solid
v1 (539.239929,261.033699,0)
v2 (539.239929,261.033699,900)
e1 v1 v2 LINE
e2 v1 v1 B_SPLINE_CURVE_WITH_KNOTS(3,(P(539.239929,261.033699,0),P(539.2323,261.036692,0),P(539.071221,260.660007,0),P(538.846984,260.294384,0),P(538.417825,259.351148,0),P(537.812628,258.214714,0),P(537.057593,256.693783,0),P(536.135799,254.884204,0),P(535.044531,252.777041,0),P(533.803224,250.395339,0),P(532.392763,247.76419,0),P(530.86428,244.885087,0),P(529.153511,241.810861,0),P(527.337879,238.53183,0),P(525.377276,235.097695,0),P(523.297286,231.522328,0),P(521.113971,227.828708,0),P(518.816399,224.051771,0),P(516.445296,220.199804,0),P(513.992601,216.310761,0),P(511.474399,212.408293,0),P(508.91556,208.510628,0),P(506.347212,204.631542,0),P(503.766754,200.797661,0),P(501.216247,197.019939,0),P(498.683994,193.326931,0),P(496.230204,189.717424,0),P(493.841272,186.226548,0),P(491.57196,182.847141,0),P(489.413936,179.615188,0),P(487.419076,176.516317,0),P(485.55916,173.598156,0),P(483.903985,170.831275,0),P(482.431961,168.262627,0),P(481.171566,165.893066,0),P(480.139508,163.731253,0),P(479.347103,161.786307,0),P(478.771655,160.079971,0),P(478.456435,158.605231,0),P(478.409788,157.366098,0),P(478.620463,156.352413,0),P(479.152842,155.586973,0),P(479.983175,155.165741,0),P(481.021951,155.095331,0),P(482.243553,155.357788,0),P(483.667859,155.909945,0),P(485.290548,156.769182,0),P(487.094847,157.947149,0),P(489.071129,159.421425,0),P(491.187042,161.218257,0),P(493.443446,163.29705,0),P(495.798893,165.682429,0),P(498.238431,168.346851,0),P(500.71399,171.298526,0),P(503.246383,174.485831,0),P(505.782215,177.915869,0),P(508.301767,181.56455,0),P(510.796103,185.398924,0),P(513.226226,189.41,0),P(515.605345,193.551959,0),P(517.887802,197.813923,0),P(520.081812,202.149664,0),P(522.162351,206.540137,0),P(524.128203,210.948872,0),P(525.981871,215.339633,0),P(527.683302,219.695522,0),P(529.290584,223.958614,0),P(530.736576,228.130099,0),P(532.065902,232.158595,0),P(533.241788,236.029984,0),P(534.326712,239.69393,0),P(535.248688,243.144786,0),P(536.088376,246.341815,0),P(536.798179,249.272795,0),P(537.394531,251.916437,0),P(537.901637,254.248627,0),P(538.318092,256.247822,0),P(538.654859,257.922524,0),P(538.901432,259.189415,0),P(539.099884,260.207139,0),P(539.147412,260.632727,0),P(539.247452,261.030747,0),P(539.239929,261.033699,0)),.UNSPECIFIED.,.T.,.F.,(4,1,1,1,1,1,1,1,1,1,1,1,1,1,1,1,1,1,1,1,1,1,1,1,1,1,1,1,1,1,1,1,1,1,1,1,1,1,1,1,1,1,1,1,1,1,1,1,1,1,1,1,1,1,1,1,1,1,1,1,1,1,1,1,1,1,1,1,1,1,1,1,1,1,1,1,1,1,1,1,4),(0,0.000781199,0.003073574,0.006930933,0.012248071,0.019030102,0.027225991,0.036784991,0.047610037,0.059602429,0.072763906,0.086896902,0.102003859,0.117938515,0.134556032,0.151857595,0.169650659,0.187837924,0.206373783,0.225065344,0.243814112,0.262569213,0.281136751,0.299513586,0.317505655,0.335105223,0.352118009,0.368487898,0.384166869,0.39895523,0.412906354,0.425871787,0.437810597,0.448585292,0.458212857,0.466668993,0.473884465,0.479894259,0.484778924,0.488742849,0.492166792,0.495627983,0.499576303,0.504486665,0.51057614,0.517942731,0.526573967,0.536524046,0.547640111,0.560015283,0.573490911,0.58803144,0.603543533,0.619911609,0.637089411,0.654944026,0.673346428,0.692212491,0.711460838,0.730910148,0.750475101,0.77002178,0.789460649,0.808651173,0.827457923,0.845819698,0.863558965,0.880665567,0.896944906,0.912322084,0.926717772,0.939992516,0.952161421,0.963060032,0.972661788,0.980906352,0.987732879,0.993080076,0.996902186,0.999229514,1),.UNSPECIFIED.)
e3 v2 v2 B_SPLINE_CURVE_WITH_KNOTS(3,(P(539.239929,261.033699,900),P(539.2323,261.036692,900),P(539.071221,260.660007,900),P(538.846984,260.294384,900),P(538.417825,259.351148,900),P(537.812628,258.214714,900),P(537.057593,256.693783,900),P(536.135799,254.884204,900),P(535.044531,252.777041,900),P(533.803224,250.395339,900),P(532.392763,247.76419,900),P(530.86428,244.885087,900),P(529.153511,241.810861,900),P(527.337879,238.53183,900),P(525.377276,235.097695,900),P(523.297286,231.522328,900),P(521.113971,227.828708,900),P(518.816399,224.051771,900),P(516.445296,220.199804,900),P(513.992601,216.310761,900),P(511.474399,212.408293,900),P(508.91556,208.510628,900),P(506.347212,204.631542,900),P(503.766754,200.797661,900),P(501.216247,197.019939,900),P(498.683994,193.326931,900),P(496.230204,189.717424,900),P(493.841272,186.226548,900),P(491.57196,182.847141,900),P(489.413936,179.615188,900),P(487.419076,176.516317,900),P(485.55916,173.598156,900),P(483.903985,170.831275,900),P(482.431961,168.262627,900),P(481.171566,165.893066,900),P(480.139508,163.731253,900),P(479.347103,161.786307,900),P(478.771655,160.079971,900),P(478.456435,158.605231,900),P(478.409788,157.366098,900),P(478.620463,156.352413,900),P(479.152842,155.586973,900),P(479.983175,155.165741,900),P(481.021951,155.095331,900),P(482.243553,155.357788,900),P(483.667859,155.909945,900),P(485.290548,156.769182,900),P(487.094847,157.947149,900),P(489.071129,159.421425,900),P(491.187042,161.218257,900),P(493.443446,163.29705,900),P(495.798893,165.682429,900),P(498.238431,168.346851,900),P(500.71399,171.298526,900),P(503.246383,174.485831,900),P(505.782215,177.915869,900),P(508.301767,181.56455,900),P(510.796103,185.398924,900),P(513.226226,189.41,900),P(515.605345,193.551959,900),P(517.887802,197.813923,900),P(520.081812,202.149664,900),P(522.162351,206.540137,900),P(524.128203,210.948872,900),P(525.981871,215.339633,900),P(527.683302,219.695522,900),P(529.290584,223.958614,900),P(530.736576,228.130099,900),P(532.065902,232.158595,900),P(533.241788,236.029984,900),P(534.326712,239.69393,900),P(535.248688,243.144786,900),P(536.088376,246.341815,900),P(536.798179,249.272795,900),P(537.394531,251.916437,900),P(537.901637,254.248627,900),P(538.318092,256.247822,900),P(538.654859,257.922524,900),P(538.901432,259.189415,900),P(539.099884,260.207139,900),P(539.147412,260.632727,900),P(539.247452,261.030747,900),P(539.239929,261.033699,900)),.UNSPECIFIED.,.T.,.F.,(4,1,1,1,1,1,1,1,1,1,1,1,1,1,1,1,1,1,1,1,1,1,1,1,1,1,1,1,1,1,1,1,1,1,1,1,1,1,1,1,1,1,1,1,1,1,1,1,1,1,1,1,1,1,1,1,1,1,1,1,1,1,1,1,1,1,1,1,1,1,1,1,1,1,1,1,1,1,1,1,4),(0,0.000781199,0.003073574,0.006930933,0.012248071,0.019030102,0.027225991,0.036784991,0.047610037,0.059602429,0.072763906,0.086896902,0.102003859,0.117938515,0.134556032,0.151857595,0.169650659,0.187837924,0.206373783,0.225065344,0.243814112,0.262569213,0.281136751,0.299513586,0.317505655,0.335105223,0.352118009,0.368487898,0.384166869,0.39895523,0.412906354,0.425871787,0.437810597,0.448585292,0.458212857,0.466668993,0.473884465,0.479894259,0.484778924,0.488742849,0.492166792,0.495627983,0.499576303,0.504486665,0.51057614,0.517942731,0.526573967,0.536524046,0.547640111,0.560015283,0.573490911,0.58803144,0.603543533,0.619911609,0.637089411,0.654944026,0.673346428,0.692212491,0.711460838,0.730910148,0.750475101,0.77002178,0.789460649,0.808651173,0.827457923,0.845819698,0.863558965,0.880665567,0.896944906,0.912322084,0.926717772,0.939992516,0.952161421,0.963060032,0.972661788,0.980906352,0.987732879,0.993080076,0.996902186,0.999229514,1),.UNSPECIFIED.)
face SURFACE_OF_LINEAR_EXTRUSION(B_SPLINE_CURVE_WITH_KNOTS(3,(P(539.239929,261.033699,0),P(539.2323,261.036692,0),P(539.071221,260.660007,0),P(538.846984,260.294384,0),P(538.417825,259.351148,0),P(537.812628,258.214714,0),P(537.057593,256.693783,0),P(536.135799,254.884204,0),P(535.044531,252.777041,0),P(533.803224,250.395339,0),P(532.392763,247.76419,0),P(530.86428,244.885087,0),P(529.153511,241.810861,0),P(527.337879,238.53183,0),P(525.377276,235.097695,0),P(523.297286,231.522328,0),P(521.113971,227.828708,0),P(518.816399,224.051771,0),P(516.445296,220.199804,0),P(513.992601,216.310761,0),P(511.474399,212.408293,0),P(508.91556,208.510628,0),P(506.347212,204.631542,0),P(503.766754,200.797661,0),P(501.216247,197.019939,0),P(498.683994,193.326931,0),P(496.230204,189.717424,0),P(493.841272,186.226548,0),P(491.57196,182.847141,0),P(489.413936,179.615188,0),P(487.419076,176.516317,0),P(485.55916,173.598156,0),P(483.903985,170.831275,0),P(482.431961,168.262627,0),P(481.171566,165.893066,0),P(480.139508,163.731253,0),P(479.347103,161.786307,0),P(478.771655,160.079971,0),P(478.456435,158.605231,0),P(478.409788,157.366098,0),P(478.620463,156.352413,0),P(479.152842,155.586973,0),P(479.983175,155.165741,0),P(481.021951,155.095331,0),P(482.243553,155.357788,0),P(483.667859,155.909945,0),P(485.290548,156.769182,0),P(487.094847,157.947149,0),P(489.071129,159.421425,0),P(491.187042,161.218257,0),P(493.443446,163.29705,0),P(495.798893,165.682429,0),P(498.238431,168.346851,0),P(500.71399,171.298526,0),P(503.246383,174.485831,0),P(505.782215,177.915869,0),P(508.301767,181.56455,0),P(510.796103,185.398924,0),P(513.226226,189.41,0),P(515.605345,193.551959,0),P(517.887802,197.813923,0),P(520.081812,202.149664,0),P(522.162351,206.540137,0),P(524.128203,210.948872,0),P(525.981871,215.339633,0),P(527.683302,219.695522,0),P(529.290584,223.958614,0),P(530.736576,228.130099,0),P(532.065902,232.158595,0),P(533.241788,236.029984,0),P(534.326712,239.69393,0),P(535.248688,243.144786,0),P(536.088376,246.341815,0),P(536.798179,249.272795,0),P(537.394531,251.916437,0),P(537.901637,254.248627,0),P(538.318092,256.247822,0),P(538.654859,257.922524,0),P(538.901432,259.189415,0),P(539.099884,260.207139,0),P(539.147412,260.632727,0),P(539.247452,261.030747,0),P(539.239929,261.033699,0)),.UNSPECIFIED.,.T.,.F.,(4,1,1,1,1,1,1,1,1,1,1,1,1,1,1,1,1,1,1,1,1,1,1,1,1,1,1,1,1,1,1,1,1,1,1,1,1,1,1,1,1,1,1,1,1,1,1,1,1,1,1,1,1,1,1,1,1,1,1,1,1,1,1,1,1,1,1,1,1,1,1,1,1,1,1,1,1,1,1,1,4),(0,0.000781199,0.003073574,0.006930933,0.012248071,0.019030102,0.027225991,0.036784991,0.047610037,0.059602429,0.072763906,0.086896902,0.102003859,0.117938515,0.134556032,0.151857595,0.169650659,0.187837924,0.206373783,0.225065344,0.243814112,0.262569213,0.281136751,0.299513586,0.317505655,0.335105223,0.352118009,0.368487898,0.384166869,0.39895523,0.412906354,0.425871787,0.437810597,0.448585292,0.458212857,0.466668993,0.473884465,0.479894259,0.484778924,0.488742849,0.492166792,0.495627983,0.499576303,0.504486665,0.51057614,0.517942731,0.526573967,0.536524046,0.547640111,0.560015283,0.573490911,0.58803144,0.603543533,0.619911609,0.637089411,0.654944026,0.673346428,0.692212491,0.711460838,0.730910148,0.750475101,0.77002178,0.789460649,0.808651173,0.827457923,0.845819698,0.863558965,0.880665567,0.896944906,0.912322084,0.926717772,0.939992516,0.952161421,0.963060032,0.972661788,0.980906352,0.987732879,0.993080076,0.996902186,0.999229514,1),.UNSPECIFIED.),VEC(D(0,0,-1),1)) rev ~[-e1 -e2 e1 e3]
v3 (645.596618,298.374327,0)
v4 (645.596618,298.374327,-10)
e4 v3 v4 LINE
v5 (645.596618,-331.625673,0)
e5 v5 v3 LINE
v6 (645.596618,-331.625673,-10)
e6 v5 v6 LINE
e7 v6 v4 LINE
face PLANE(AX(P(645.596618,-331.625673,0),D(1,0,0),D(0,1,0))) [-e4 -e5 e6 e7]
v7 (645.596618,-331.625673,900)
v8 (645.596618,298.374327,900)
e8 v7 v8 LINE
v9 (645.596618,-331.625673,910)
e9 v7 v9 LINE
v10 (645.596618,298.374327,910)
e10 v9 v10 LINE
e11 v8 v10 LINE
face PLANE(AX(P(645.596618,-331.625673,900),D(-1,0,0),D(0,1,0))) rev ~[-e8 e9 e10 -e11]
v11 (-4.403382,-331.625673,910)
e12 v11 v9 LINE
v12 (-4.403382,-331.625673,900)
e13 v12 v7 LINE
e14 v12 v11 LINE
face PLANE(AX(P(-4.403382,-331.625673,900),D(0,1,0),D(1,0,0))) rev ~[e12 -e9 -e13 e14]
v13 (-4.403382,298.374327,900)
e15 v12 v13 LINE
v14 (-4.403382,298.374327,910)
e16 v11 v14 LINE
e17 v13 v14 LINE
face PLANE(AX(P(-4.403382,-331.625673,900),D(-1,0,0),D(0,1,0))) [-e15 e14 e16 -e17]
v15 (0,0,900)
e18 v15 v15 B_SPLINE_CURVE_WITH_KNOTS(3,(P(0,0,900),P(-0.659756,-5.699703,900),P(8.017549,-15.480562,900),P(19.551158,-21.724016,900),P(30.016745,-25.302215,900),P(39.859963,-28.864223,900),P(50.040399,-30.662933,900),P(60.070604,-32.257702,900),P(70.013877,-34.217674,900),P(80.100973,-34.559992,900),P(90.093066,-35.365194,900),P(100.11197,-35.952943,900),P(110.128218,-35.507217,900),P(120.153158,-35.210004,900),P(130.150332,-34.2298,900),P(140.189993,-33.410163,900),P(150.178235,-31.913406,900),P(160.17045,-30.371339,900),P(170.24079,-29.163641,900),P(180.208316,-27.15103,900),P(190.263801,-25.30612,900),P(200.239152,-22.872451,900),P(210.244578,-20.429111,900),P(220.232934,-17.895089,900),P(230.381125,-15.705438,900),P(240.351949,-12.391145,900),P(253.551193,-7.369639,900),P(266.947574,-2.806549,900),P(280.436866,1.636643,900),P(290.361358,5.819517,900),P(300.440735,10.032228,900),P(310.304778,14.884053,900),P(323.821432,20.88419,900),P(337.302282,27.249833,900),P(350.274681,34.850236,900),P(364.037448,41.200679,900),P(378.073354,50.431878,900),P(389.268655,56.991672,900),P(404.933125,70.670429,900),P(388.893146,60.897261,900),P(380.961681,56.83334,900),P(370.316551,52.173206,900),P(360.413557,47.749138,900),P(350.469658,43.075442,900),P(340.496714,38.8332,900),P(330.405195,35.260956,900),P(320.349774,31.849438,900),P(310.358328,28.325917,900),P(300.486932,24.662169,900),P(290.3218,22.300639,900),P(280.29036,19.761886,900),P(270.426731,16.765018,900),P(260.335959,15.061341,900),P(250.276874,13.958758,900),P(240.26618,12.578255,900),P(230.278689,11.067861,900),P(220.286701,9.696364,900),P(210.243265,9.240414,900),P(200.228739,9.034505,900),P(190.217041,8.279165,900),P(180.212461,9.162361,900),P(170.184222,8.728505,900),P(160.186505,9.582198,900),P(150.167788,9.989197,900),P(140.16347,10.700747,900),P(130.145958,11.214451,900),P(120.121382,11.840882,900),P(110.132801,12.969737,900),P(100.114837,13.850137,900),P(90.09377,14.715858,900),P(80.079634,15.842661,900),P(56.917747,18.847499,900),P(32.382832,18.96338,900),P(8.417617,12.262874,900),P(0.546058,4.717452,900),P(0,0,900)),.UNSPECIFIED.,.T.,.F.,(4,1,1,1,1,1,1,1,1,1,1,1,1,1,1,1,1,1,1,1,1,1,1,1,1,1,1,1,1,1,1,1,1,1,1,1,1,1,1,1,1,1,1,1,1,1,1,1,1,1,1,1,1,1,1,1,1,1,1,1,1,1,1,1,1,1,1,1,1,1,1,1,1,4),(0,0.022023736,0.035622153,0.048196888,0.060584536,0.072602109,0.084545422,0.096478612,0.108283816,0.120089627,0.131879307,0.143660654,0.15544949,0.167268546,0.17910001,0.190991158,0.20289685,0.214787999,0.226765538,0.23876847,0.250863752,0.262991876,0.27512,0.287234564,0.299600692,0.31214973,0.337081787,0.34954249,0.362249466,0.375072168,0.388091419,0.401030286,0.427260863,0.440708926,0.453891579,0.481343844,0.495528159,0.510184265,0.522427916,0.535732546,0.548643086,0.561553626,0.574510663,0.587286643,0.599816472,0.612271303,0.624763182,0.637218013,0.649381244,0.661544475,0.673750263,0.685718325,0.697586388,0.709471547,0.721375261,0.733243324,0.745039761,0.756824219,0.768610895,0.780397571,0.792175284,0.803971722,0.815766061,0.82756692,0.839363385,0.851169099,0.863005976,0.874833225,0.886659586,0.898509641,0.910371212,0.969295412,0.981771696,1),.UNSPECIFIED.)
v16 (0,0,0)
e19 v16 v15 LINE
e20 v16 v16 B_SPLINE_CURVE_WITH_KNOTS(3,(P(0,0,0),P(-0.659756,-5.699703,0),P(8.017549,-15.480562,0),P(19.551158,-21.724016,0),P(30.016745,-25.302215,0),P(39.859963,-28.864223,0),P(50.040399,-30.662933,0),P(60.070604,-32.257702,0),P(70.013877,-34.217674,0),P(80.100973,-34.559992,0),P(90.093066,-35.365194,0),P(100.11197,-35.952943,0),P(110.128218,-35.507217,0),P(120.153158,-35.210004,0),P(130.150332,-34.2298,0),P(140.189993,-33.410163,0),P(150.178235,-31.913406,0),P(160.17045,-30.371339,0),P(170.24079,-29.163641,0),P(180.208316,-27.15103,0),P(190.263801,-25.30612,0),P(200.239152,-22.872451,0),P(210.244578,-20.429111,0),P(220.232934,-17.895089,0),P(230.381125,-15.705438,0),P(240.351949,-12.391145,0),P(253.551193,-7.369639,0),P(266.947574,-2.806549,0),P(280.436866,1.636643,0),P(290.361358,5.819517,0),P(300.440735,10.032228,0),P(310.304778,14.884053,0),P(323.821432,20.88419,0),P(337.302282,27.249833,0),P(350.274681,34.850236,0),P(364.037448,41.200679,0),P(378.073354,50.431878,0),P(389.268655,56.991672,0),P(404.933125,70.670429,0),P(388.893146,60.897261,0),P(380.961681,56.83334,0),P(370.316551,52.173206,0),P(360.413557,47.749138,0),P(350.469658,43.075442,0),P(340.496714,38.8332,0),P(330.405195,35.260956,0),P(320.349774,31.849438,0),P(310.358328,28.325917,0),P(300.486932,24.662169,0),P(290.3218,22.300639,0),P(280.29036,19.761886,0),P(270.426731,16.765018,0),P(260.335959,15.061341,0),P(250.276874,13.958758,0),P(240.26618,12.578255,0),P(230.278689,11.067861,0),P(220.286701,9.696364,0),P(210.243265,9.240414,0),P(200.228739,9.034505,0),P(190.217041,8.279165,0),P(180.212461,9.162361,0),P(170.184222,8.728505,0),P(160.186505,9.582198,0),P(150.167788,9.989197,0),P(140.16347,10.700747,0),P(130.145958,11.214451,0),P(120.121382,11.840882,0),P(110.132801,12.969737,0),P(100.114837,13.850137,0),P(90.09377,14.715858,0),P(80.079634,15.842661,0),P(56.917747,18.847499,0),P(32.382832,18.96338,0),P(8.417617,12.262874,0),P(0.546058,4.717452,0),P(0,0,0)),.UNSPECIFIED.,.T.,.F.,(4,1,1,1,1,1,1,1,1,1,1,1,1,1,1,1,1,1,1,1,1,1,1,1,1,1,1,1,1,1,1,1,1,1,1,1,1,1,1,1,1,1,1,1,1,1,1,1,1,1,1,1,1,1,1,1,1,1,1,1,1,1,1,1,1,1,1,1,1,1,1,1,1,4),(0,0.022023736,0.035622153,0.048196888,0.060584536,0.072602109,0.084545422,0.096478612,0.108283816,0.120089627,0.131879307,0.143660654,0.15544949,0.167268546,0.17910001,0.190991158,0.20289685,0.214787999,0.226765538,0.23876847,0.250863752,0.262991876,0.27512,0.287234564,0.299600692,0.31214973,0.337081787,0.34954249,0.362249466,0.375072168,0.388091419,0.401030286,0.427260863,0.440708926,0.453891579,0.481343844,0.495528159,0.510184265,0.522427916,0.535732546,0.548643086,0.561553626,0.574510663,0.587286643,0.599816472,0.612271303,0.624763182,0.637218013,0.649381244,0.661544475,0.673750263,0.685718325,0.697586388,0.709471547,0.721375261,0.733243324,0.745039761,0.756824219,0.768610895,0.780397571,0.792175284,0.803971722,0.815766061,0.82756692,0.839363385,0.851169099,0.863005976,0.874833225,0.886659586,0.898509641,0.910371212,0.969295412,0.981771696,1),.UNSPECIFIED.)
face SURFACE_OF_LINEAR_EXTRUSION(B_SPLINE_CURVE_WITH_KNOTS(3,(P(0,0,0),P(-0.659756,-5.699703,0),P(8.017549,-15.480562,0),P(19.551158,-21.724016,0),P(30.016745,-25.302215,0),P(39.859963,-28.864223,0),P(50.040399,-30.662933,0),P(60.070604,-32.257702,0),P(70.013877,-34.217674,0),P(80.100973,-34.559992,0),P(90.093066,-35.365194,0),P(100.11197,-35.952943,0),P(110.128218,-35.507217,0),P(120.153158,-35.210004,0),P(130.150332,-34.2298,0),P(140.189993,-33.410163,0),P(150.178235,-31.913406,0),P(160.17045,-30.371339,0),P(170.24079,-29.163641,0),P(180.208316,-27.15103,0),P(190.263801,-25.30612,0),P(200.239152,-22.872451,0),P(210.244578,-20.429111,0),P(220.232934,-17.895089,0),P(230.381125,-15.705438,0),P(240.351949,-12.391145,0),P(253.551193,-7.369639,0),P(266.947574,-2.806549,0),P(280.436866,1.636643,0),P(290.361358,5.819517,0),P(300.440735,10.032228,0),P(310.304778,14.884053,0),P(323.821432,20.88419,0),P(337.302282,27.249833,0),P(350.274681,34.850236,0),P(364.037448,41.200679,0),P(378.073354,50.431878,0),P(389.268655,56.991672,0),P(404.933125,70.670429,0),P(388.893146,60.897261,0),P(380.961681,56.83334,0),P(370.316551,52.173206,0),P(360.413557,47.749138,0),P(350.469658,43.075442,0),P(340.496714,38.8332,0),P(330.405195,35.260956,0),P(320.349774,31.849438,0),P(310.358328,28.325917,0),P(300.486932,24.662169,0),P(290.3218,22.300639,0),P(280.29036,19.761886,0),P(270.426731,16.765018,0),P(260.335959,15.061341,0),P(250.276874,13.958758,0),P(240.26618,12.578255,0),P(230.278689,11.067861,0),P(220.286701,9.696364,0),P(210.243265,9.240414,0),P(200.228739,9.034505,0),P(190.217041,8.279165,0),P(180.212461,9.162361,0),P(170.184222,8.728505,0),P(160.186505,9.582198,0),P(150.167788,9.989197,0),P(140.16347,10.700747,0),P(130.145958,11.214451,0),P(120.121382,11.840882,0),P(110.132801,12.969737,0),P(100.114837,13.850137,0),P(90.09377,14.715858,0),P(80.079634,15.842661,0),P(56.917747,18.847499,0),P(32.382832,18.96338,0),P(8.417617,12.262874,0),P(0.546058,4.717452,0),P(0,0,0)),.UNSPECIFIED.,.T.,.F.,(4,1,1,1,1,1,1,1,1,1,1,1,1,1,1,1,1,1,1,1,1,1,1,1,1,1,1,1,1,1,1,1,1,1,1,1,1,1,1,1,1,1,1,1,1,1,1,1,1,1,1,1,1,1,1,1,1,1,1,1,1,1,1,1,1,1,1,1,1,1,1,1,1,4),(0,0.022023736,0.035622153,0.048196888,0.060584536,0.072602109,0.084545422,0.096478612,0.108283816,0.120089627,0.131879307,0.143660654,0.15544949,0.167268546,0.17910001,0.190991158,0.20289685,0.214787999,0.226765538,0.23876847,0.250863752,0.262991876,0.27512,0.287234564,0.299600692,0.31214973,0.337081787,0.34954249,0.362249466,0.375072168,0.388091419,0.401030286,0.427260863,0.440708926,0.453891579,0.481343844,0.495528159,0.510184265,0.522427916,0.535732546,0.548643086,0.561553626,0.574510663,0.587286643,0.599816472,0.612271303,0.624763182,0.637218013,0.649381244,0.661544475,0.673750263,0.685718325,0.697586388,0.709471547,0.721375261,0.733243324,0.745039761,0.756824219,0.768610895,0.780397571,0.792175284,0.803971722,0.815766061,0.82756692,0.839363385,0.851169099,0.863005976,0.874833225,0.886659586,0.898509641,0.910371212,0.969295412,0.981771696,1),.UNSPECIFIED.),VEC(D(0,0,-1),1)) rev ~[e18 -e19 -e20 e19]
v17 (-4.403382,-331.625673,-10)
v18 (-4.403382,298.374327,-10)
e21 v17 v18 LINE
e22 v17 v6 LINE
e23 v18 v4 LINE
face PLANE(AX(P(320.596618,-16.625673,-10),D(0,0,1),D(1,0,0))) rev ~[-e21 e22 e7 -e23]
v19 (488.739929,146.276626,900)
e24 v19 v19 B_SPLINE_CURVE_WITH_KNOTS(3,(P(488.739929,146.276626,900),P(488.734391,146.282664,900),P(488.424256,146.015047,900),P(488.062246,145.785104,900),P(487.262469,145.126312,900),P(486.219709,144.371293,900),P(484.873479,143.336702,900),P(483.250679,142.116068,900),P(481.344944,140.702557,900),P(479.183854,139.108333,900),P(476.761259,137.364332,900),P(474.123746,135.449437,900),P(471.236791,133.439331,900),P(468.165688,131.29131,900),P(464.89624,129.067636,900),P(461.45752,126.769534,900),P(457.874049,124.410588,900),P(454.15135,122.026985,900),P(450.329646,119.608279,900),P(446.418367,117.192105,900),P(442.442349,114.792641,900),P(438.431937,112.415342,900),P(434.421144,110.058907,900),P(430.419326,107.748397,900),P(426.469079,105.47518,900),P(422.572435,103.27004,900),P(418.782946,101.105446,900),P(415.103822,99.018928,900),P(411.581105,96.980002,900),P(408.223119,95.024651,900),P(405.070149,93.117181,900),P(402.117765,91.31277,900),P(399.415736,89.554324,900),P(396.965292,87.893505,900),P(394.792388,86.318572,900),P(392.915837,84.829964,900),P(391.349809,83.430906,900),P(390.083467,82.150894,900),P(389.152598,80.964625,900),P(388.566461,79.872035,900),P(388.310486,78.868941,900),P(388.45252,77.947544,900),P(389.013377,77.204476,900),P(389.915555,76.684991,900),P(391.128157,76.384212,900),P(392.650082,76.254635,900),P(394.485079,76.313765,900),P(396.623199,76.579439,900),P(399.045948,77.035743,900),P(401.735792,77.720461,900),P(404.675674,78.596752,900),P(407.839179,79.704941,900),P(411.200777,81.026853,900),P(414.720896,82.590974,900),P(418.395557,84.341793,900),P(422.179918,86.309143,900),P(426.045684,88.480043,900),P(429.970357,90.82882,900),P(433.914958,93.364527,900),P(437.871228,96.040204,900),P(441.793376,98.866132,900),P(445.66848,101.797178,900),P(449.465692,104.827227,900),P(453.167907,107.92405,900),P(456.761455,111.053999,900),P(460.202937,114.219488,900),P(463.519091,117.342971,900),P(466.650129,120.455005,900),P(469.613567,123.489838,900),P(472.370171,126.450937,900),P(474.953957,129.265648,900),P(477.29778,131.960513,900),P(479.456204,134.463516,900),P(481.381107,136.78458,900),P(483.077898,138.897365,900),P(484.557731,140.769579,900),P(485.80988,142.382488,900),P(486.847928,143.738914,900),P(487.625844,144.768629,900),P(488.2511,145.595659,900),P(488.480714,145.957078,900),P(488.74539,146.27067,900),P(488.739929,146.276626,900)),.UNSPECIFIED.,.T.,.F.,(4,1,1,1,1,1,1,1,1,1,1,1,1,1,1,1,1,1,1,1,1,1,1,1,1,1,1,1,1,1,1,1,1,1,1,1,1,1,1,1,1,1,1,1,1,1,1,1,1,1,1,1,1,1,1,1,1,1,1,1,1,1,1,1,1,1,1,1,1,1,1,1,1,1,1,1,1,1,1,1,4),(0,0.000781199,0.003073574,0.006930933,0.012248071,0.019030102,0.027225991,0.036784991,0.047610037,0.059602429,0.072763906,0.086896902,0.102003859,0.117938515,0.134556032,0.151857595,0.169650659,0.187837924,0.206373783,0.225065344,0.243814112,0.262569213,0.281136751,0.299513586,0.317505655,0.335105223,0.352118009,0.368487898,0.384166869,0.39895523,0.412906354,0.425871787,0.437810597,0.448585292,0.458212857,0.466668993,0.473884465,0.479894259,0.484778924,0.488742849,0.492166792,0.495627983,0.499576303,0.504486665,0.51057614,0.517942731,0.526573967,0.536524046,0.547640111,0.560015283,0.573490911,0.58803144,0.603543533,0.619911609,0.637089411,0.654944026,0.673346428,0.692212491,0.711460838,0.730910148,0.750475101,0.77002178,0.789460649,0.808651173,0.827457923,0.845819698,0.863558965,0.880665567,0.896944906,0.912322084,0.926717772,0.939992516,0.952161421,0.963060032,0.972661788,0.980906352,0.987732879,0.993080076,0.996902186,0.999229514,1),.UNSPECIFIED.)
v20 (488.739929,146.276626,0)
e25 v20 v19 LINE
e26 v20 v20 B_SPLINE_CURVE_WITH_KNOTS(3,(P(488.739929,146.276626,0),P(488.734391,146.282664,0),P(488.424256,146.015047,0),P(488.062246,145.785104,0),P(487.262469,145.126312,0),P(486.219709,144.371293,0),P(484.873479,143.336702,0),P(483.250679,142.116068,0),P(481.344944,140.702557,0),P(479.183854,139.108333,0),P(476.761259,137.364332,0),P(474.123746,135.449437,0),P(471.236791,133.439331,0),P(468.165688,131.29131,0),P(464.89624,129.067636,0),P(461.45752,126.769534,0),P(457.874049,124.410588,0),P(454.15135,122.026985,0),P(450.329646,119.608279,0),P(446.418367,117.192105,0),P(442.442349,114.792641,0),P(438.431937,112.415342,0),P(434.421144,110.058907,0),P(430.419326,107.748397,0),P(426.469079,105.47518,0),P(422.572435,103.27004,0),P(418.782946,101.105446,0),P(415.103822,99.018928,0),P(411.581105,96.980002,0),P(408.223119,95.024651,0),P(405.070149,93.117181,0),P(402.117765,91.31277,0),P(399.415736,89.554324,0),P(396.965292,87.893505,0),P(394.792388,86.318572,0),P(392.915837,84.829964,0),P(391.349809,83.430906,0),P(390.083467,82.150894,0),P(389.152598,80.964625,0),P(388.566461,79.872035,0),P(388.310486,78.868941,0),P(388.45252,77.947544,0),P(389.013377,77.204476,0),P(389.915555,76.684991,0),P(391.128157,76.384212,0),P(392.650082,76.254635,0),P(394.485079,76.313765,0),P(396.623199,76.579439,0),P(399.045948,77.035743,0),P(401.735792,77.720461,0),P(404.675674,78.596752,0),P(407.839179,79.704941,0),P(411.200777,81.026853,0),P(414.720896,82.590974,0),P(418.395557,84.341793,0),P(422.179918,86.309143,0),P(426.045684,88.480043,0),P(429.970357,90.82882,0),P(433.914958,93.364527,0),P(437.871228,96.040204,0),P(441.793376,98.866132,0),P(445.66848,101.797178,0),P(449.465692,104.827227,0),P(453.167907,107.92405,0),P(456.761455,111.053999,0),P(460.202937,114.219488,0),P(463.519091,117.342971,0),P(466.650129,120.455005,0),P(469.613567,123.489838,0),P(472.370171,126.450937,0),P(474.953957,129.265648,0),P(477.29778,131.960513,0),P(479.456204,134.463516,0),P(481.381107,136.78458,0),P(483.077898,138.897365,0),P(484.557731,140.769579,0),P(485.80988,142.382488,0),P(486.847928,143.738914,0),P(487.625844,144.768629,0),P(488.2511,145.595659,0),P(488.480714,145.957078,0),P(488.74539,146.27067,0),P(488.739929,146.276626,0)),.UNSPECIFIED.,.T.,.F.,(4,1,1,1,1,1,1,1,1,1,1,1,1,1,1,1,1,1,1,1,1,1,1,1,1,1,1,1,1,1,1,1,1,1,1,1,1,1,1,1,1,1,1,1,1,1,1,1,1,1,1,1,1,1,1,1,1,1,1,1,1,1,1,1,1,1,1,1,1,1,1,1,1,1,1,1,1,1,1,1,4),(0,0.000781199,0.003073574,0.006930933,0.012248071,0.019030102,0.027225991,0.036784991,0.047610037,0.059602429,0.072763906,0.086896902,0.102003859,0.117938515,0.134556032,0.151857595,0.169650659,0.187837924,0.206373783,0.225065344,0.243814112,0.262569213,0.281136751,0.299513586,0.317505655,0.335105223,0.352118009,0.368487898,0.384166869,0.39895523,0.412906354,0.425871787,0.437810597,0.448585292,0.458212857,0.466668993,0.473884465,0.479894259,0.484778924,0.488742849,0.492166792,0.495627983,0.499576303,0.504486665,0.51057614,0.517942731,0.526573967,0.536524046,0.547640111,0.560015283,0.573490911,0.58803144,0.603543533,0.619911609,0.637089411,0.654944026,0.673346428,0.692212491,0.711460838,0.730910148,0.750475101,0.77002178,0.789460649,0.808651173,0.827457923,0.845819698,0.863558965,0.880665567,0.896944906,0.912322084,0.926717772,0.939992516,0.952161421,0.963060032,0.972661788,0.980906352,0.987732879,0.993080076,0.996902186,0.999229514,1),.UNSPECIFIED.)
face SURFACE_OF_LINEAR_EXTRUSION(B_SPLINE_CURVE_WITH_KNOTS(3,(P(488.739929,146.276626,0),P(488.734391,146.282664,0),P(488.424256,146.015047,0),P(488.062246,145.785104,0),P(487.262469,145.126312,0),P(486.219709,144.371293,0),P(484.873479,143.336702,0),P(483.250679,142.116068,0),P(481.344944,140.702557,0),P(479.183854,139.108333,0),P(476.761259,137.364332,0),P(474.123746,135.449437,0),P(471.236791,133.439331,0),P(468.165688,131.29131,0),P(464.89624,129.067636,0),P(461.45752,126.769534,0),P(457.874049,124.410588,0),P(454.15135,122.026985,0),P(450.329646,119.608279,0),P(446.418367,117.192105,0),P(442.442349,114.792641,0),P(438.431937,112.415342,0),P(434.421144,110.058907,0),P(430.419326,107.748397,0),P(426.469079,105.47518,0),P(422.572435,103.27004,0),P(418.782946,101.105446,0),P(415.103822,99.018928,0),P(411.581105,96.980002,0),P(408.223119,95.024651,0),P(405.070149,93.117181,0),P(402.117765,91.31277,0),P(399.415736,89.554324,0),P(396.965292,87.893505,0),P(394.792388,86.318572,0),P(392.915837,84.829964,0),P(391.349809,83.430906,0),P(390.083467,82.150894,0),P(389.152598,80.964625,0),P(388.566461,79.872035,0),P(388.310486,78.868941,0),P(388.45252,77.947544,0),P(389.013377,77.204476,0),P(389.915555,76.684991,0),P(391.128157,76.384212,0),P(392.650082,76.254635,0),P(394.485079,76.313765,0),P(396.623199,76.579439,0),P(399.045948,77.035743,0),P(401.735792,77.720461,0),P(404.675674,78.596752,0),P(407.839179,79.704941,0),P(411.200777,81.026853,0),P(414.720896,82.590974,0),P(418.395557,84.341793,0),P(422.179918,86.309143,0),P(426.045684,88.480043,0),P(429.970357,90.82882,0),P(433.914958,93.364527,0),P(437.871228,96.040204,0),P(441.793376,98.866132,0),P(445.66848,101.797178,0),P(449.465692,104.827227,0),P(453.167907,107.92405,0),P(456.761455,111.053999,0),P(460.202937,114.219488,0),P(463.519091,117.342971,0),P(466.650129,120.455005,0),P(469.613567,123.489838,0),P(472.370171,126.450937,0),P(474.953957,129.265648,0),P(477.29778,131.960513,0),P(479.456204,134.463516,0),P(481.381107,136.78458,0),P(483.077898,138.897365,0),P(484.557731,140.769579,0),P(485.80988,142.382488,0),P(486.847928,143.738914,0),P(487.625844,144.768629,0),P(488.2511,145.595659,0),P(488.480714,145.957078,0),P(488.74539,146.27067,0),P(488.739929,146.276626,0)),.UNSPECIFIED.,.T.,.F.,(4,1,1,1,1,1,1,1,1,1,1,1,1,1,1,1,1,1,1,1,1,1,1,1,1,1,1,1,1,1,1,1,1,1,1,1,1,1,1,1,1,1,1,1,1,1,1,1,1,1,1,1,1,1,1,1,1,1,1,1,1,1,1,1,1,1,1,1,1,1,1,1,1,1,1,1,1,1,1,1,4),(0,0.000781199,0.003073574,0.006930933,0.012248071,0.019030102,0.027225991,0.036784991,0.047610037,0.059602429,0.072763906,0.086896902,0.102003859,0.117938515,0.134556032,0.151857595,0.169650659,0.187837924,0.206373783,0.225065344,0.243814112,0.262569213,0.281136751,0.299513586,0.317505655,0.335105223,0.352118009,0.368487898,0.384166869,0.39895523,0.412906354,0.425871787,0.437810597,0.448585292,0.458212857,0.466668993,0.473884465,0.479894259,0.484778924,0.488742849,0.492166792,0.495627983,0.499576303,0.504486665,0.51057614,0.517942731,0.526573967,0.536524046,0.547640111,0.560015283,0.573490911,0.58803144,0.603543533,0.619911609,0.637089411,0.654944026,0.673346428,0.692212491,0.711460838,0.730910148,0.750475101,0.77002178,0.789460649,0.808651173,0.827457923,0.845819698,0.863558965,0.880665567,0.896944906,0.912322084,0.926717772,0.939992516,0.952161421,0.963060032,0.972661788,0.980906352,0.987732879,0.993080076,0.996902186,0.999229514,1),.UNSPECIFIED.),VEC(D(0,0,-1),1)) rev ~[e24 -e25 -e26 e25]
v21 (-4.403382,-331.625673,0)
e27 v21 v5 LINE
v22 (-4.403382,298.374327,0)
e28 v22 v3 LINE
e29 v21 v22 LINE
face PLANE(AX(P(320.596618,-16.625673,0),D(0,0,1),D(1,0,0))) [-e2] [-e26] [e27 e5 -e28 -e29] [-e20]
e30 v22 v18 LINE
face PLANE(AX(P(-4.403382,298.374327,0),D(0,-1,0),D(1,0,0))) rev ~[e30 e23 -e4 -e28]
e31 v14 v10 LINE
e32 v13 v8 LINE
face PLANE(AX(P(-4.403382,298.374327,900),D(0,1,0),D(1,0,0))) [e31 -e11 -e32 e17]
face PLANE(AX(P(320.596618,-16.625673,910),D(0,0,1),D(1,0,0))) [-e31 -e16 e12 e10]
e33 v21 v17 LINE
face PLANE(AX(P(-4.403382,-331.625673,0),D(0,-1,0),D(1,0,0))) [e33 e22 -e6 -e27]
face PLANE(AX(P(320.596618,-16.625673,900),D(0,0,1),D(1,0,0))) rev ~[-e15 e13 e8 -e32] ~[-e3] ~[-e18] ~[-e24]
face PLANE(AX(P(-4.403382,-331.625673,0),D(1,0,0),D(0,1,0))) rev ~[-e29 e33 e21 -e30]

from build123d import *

# Parameters (mm, degrees)
BOSS_EXTRUDE1_DEPTH   = 900
BOSS_EXTRUDE1_2_DEPTH = 900
BOSS_EXTRUDE1_3_DEPTH = 900
SKETCH3_W             = 650
SKETCH3_H             = 630
BOSS_EXTRUDE2_DEPTH   = 10
SKETCH5_W             = 650
SKETCH5_H             = 630
BOSS_EXTRUDE3_DEPTH   = 10


with BuildPart() as part:
    # Sketch2 → Boss-Extrude1 (new body)
    with BuildSketch(Plane.XY):
        with BuildLine():
            add(Edge.make_bspline(
                [(0, 0), (-0.65975565, -5.699703464), (8.017548516, -15.480562025), (19.551157506, -21.724015646), (30.016745353, -25.302215165), (39.859962541, -28.8642232), (50.040399275, -30.662933418), (60.070603806, -32.257702331), (70.013877162, -34.217674322), (80.100972933, -34.55999195), (90.093066457, -35.36519438), (100.111969814, -35.952943269), (110.128217778, -35.507216678), (120.153157744, -35.210003546), (130.150331683, -34.229800116), (140.189993261, -33.410162922), (150.178235204, -31.913406007), (160.170449627, -30.371338734), (170.240789754, -29.163640841), (180.208316099, -27.151030087), (190.263801281, -25.306120223), (200.239152099, -22.872450662), (210.244577583, -20.429111012), (220.232934245, -17.895088966), (230.381125348, -15.705438437), (240.351948949, -12.391144832), (253.551193017, -7.369638816), (266.947574476, -2.806549313), (280.436865809, 1.636643436), (290.361357742, 5.819516769), (300.440735094, 10.032227759), (310.304777653, 14.884053202), (323.821431636, 20.884190166), (337.30228202, 27.249833417), (350.274680503, 34.850235797), (364.037447664, 41.200679435), (378.073354269, 50.431878374), (389.268655411, 56.991671546), (404.933124868, 70.670428585), (388.893146181, 60.897261379), (380.961681237, 56.833339948), (370.316551331, 52.173205743), (360.413556578, 47.749137904), (350.469658047, 43.075442492), (340.496714174, 38.833200032), (330.405194537, 35.260956145), (320.349773519, 31.849438488), (310.358327921, 28.32591748), (300.486931551, 24.662169398), (290.321799777, 22.300639283), (280.290360105, 19.76188557), (270.426731207, 16.765017679), (260.335958512, 15.061341224), (250.276874186, 13.958758108), (240.266180313, 12.578254982), (230.278688892, 11.06786106), (220.28670052, 9.696364143), (210.243264635, 9.240413966), (200.228739037, 9.034505305), (190.217040672, 8.279165066), (180.212460889, 9.162360851), (170.184221628, 8.728504773), (160.186505008, 9.582197967), (150.167787888, 9.989196896), (140.163470123, 10.700746944), (130.145958281, 11.214450998), (120.121382338, 11.840881885), (110.132801048, 12.969737489), (100.114836916, 13.850136605), (90.093770057, 14.715857774), (80.079633724, 15.842660607), (56.917746978, 18.847498868), (32.382831952, 18.963380484), (8.41761673, 12.262874152), (0.546057517, 4.717452477), (0, 0)],
                knots=[0, 0, 0, 0, 0.022023736, 0.035622153, 0.048196888, 0.060584536, 0.072602109, 0.084545422, 0.096478612, 0.108283816, 0.120089627, 0.131879307, 0.143660654, 0.15544949, 0.167268546, 0.17910001, 0.190991158, 0.20289685, 0.214787999, 0.226765538, 0.23876847, 0.250863752, 0.262991876, 0.27512, 0.287234564, 0.299600692, 0.31214973, 0.337081787, 0.34954249, 0.362249466, 0.375072168, 0.388091419, 0.401030286, 0.427260863, 0.440708926, 0.453891579, 0.481343844, 0.495528159, 0.510184265, 0.522427916, 0.535732546, 0.548643086, 0.561553626, 0.574510663, 0.587286643, 0.599816472, 0.612271303, 0.624763182, 0.637218013, 0.649381244, 0.661544475, 0.673750263, 0.685718325, 0.697586388, 0.709471547, 0.721375261, 0.733243324, 0.745039761, 0.756824219, 0.768610895, 0.780397571, 0.792175284, 0.803971722, 0.815766061, 0.82756692, 0.839363385, 0.851169099, 0.863005976, 0.874833225, 0.886659586, 0.898509641, 0.910371212, 0.969295412, 0.981771696, 1, 1, 1, 1], degree=3))
        make_face()
    extrude(amount=BOSS_EXTRUDE1_DEPTH)



with BuildPart() as body_2:
    # Sketch2 → Boss-Extrude1 2 (new body)
    with BuildSketch(Plane.XY):
        with BuildLine():
            add(Edge.make_bspline(
                [(488.73992863, 146.276625829), (488.734390863, 146.282664356), (488.424255517, 146.015046997), (488.06224571, 145.78510435), (487.262468982, 145.126312202), (486.219708703, 144.371292999), (484.873478649, 143.336701677), (483.250678892, 142.116067573), (481.344943871, 140.702556836), (479.183854282, 139.108333078), (476.761259361, 137.364331889), (474.123745832, 135.449437464), (471.236790602, 133.439330858), (468.165688429, 131.291310186), (464.896239769, 129.067635846), (461.457519682, 126.769533617), (457.874048726, 124.410588123), (454.151349507, 122.026984888), (450.329646269, 119.608278587), (446.41836705, 117.19210493), (442.442349173, 114.792641259), (438.43193703, 112.415341988), (434.42114363, 110.058907294), (430.419325782, 107.74839744), (426.469079038, 105.475179612), (422.572434597, 103.270040027), (418.782946314, 101.105445668), (415.103822048, 99.01892845), (411.581105321, 96.980001912), (408.223119368, 95.024650916), (405.070149132, 93.117181313), (402.117764879, 91.312769814), (399.415735867, 89.554324386), (396.965291652, 87.893504979), (394.792388291, 86.318571947), (392.915837215, 84.829964237), (391.349809227, 83.430905822), (390.083467317, 82.150893966), (389.152598068, 80.964624913), (388.566460536, 79.872034746), (388.31048608, 78.86894122), (388.452520239, 77.947544055), (389.013376817, 77.204475769), (389.915554573, 76.684991476), (391.128157446, 76.384212118), (392.650081725, 76.254634507), (394.48507873, 76.313765499), (396.623198675, 76.579439281), (399.045948072, 77.035742523), (401.735792151, 77.720460618), (404.675674285, 78.596752435), (407.839178956, 79.704940552), (411.200777121, 81.026852514), (414.720896472, 82.590974299), (418.395557374, 84.341793332), (422.179917585, 86.309143039), (426.045683707, 88.480043342), (429.970357242, 90.828820323), (433.914957703, 93.364526939), (437.871228384, 96.040204149), (441.793376071, 98.866131635), (445.668479549, 101.797178284), (449.465692449, 104.827226536), (453.167907327, 107.924049831), (456.76145535, 111.053999458), (460.202936902, 114.219487851), (463.519091154, 117.342970547), (466.650128692, 120.455005022), (469.613566921, 123.489837804), (472.370170636, 126.450937081), (474.953957291, 129.265647603), (477.297780382, 131.960513478), (479.456204478, 134.463515761), (481.381106749, 136.784579704), (483.077897662, 138.897364919), (484.557730654, 140.769579134), (485.809879979, 142.38248786), (486.847928071, 143.738913606), (487.625844434, 144.768628828), (488.251100258, 145.595659419), (488.480713959, 145.957078055), (488.74539046, 146.270670107), (488.73992863, 146.276625829)],
                knots=[0, 0, 0, 0, 0.000781199, 0.003073574, 0.006930933, 0.012248071, 0.019030102, 0.027225991, 0.036784991, 0.047610037, 0.059602429, 0.072763906, 0.086896902, 0.102003859, 0.117938515, 0.134556032, 0.151857595, 0.169650659, 0.187837924, 0.206373783, 0.225065344, 0.243814112, 0.262569213, 0.281136751, 0.299513586, 0.317505655, 0.335105223, 0.352118009, 0.368487898, 0.384166869, 0.39895523, 0.412906354, 0.425871787, 0.437810597, 0.448585292, 0.458212857, 0.466668993, 0.473884465, 0.479894259, 0.484778924, 0.488742849, 0.492166792, 0.495627983, 0.499576303, 0.504486665, 0.51057614, 0.517942731, 0.526573967, 0.536524046, 0.547640111, 0.560015283, 0.573490911, 0.58803144, 0.603543533, 0.619911609, 0.637089411, 0.654944026, 0.673346428, 0.692212491, 0.711460838, 0.730910148, 0.750475101, 0.77002178, 0.789460649, 0.808651173, 0.827457923, 0.845819698, 0.863558965, 0.880665567, 0.896944906, 0.912322084, 0.926717772, 0.939992516, 0.952161421, 0.963060032, 0.972661788, 0.980906352, 0.987732879, 0.993080076, 0.996902186, 0.999229514, 1, 1, 1, 1], degree=3))
        make_face()
    extrude(amount=BOSS_EXTRUDE1_2_DEPTH)


with BuildPart() as body_3:
    # Sketch2 → Boss-Extrude1 3 (new body)
    with BuildSketch(Plane.XY):
        with BuildLine():
            add(Edge.make_bspline(
                [(539.23992863, 261.033698992), (539.232300477, 261.036691618), (539.071220974, 260.660007341), (538.84698411, 260.294383835), (538.417825195, 259.351147733), (537.812628412, 258.214713723), (537.057592548, 256.69378277), (536.135798945, 254.884204064), (535.044530514, 252.777041307), (533.803223872, 250.395339111), (532.392762892, 247.764189745), (530.864279848, 244.885087007), (529.153510736, 241.810861132), (527.337878898, 238.531830155), (525.377275818, 235.097694518), (523.297285695, 231.52232813), (521.113971493, 227.82870801), (518.816398825, 224.051771346), (516.445296032, 220.199803879), (513.992600523, 216.310761376), (511.474399485, 212.408292537), (508.915559924, 208.510628132), (506.347212063, 204.63154216), (503.766753677, 200.797660602), (501.216247394, 197.019939369), (498.683993851, 193.326930842), (496.230204047, 189.717423878), (493.841272428, 186.226548478), (491.571959726, 182.847140686), (489.413935946, 179.615187713), (487.419075714, 176.516316995), (485.559160111, 173.598156438), (483.903985045, 170.831274842), (482.431961132, 168.262626571), (481.171565959, 165.893066494), (480.139507952, 163.731252802), (479.34710268, 161.786307292), (478.771655483, 160.079971306), (478.456434932, 158.605231474), (478.409787964, 157.366097849), (478.620462539, 156.352412898), (479.152841571, 155.586972786), (479.983174935, 155.165741091), (481.021950668, 155.095331463), (482.243553358, 155.357787717), (483.667859402, 155.909945444), (485.29054848, 156.769181737), (487.094846627, 157.947148926), (489.071128932, 159.421425429), (491.187042136, 161.2182568), (493.443445817, 163.29704995), (495.798893171, 165.68242869), (498.238430573, 168.346851015), (500.713990203, 171.298526321), (503.24638307, 174.485830725), (505.782214613, 177.91586918), (508.30176656, 181.564550428), (510.796103474, 185.398924032), (513.226226138, 189.409999652), (515.60534525, 193.551959475), (517.887801758, 197.813922504), (520.081812496, 202.149664133), (522.16235077, 206.540137267), (524.128203332, 210.948872483), (525.981871124, 215.33963319), (527.683301699, 219.695521508), (529.290584132, 223.958613558), (530.736576407, 228.13009856), (532.065902489, 232.158595228), (533.241787684, 236.029983649), (534.326712468, 239.693930018), (535.248687863, 243.14478577), (536.088375508, 246.341815089), (536.798178994, 249.272795142), (537.394530655, 251.916437039), (537.901637286, 254.248627252), (538.318092286, 256.247821862), (538.654858961, 257.922523501), (538.901431694, 259.189414684), (539.099884418, 260.207139124), (539.147412047, 260.632726817), (539.247452181, 261.030747402), (539.23992863, 261.033698992)],
                knots=[0, 0, 0, 0, 0.000781199, 0.003073574, 0.006930933, 0.012248071, 0.019030102, 0.027225991, 0.036784991, 0.047610037, 0.059602429, 0.072763906, 0.086896902, 0.102003859, 0.117938515, 0.134556032, 0.151857595, 0.169650659, 0.187837924, 0.206373783, 0.225065344, 0.243814112, 0.262569213, 0.281136751, 0.299513586, 0.317505655, 0.335105223, 0.352118009, 0.368487898, 0.384166869, 0.39895523, 0.412906354, 0.425871787, 0.437810597, 0.448585292, 0.458212857, 0.466668993, 0.473884465, 0.479894259, 0.484778924, 0.488742849, 0.492166792, 0.495627983, 0.499576303, 0.504486665, 0.51057614, 0.517942731, 0.526573967, 0.536524046, 0.547640111, 0.560015283, 0.573490911, 0.58803144, 0.603543533, 0.619911609, 0.637089411, 0.654944026, 0.673346428, 0.692212491, 0.711460838, 0.730910148, 0.750475101, 0.77002178, 0.789460649, 0.808651173, 0.827457923, 0.845819698, 0.863558965, 0.880665567, 0.896944906, 0.912322084, 0.926717772, 0.939992516, 0.952161421, 0.963060032, 0.972661788, 0.980906352, 0.987732879, 0.993080076, 0.996902186, 0.999229514, 1, 1, 1, 1], degree=3))
        make_face()
    extrude(amount=BOSS_EXTRUDE1_3_DEPTH)


with BuildPart() as part_1:
    add(part.part)

    add(body_2.part)  # Boss-Extrude2 merges body 2

    add(body_3.part)  # Boss-Extrude2 merges body 3
    # Sketch3 → Boss-Extrude2 (add)
    with BuildSketch(Plane.XY.offset(900)):
        with Locations((320.596618382, -16.625673365)):
            Rectangle(SKETCH3_W, SKETCH3_H)
    extrude(amount=BOSS_EXTRUDE2_DEPTH)

    # Sketch5 → Boss-Extrude3 (add)
    with BuildSketch(Plane.XY):
        with Locations((320.596618382, -16.625673365)):
            Rectangle(SKETCH5_W, SKETCH5_H)
    extrude(amount=-BOSS_EXTRUDE3_DEPTH)


solid = part_1.part
